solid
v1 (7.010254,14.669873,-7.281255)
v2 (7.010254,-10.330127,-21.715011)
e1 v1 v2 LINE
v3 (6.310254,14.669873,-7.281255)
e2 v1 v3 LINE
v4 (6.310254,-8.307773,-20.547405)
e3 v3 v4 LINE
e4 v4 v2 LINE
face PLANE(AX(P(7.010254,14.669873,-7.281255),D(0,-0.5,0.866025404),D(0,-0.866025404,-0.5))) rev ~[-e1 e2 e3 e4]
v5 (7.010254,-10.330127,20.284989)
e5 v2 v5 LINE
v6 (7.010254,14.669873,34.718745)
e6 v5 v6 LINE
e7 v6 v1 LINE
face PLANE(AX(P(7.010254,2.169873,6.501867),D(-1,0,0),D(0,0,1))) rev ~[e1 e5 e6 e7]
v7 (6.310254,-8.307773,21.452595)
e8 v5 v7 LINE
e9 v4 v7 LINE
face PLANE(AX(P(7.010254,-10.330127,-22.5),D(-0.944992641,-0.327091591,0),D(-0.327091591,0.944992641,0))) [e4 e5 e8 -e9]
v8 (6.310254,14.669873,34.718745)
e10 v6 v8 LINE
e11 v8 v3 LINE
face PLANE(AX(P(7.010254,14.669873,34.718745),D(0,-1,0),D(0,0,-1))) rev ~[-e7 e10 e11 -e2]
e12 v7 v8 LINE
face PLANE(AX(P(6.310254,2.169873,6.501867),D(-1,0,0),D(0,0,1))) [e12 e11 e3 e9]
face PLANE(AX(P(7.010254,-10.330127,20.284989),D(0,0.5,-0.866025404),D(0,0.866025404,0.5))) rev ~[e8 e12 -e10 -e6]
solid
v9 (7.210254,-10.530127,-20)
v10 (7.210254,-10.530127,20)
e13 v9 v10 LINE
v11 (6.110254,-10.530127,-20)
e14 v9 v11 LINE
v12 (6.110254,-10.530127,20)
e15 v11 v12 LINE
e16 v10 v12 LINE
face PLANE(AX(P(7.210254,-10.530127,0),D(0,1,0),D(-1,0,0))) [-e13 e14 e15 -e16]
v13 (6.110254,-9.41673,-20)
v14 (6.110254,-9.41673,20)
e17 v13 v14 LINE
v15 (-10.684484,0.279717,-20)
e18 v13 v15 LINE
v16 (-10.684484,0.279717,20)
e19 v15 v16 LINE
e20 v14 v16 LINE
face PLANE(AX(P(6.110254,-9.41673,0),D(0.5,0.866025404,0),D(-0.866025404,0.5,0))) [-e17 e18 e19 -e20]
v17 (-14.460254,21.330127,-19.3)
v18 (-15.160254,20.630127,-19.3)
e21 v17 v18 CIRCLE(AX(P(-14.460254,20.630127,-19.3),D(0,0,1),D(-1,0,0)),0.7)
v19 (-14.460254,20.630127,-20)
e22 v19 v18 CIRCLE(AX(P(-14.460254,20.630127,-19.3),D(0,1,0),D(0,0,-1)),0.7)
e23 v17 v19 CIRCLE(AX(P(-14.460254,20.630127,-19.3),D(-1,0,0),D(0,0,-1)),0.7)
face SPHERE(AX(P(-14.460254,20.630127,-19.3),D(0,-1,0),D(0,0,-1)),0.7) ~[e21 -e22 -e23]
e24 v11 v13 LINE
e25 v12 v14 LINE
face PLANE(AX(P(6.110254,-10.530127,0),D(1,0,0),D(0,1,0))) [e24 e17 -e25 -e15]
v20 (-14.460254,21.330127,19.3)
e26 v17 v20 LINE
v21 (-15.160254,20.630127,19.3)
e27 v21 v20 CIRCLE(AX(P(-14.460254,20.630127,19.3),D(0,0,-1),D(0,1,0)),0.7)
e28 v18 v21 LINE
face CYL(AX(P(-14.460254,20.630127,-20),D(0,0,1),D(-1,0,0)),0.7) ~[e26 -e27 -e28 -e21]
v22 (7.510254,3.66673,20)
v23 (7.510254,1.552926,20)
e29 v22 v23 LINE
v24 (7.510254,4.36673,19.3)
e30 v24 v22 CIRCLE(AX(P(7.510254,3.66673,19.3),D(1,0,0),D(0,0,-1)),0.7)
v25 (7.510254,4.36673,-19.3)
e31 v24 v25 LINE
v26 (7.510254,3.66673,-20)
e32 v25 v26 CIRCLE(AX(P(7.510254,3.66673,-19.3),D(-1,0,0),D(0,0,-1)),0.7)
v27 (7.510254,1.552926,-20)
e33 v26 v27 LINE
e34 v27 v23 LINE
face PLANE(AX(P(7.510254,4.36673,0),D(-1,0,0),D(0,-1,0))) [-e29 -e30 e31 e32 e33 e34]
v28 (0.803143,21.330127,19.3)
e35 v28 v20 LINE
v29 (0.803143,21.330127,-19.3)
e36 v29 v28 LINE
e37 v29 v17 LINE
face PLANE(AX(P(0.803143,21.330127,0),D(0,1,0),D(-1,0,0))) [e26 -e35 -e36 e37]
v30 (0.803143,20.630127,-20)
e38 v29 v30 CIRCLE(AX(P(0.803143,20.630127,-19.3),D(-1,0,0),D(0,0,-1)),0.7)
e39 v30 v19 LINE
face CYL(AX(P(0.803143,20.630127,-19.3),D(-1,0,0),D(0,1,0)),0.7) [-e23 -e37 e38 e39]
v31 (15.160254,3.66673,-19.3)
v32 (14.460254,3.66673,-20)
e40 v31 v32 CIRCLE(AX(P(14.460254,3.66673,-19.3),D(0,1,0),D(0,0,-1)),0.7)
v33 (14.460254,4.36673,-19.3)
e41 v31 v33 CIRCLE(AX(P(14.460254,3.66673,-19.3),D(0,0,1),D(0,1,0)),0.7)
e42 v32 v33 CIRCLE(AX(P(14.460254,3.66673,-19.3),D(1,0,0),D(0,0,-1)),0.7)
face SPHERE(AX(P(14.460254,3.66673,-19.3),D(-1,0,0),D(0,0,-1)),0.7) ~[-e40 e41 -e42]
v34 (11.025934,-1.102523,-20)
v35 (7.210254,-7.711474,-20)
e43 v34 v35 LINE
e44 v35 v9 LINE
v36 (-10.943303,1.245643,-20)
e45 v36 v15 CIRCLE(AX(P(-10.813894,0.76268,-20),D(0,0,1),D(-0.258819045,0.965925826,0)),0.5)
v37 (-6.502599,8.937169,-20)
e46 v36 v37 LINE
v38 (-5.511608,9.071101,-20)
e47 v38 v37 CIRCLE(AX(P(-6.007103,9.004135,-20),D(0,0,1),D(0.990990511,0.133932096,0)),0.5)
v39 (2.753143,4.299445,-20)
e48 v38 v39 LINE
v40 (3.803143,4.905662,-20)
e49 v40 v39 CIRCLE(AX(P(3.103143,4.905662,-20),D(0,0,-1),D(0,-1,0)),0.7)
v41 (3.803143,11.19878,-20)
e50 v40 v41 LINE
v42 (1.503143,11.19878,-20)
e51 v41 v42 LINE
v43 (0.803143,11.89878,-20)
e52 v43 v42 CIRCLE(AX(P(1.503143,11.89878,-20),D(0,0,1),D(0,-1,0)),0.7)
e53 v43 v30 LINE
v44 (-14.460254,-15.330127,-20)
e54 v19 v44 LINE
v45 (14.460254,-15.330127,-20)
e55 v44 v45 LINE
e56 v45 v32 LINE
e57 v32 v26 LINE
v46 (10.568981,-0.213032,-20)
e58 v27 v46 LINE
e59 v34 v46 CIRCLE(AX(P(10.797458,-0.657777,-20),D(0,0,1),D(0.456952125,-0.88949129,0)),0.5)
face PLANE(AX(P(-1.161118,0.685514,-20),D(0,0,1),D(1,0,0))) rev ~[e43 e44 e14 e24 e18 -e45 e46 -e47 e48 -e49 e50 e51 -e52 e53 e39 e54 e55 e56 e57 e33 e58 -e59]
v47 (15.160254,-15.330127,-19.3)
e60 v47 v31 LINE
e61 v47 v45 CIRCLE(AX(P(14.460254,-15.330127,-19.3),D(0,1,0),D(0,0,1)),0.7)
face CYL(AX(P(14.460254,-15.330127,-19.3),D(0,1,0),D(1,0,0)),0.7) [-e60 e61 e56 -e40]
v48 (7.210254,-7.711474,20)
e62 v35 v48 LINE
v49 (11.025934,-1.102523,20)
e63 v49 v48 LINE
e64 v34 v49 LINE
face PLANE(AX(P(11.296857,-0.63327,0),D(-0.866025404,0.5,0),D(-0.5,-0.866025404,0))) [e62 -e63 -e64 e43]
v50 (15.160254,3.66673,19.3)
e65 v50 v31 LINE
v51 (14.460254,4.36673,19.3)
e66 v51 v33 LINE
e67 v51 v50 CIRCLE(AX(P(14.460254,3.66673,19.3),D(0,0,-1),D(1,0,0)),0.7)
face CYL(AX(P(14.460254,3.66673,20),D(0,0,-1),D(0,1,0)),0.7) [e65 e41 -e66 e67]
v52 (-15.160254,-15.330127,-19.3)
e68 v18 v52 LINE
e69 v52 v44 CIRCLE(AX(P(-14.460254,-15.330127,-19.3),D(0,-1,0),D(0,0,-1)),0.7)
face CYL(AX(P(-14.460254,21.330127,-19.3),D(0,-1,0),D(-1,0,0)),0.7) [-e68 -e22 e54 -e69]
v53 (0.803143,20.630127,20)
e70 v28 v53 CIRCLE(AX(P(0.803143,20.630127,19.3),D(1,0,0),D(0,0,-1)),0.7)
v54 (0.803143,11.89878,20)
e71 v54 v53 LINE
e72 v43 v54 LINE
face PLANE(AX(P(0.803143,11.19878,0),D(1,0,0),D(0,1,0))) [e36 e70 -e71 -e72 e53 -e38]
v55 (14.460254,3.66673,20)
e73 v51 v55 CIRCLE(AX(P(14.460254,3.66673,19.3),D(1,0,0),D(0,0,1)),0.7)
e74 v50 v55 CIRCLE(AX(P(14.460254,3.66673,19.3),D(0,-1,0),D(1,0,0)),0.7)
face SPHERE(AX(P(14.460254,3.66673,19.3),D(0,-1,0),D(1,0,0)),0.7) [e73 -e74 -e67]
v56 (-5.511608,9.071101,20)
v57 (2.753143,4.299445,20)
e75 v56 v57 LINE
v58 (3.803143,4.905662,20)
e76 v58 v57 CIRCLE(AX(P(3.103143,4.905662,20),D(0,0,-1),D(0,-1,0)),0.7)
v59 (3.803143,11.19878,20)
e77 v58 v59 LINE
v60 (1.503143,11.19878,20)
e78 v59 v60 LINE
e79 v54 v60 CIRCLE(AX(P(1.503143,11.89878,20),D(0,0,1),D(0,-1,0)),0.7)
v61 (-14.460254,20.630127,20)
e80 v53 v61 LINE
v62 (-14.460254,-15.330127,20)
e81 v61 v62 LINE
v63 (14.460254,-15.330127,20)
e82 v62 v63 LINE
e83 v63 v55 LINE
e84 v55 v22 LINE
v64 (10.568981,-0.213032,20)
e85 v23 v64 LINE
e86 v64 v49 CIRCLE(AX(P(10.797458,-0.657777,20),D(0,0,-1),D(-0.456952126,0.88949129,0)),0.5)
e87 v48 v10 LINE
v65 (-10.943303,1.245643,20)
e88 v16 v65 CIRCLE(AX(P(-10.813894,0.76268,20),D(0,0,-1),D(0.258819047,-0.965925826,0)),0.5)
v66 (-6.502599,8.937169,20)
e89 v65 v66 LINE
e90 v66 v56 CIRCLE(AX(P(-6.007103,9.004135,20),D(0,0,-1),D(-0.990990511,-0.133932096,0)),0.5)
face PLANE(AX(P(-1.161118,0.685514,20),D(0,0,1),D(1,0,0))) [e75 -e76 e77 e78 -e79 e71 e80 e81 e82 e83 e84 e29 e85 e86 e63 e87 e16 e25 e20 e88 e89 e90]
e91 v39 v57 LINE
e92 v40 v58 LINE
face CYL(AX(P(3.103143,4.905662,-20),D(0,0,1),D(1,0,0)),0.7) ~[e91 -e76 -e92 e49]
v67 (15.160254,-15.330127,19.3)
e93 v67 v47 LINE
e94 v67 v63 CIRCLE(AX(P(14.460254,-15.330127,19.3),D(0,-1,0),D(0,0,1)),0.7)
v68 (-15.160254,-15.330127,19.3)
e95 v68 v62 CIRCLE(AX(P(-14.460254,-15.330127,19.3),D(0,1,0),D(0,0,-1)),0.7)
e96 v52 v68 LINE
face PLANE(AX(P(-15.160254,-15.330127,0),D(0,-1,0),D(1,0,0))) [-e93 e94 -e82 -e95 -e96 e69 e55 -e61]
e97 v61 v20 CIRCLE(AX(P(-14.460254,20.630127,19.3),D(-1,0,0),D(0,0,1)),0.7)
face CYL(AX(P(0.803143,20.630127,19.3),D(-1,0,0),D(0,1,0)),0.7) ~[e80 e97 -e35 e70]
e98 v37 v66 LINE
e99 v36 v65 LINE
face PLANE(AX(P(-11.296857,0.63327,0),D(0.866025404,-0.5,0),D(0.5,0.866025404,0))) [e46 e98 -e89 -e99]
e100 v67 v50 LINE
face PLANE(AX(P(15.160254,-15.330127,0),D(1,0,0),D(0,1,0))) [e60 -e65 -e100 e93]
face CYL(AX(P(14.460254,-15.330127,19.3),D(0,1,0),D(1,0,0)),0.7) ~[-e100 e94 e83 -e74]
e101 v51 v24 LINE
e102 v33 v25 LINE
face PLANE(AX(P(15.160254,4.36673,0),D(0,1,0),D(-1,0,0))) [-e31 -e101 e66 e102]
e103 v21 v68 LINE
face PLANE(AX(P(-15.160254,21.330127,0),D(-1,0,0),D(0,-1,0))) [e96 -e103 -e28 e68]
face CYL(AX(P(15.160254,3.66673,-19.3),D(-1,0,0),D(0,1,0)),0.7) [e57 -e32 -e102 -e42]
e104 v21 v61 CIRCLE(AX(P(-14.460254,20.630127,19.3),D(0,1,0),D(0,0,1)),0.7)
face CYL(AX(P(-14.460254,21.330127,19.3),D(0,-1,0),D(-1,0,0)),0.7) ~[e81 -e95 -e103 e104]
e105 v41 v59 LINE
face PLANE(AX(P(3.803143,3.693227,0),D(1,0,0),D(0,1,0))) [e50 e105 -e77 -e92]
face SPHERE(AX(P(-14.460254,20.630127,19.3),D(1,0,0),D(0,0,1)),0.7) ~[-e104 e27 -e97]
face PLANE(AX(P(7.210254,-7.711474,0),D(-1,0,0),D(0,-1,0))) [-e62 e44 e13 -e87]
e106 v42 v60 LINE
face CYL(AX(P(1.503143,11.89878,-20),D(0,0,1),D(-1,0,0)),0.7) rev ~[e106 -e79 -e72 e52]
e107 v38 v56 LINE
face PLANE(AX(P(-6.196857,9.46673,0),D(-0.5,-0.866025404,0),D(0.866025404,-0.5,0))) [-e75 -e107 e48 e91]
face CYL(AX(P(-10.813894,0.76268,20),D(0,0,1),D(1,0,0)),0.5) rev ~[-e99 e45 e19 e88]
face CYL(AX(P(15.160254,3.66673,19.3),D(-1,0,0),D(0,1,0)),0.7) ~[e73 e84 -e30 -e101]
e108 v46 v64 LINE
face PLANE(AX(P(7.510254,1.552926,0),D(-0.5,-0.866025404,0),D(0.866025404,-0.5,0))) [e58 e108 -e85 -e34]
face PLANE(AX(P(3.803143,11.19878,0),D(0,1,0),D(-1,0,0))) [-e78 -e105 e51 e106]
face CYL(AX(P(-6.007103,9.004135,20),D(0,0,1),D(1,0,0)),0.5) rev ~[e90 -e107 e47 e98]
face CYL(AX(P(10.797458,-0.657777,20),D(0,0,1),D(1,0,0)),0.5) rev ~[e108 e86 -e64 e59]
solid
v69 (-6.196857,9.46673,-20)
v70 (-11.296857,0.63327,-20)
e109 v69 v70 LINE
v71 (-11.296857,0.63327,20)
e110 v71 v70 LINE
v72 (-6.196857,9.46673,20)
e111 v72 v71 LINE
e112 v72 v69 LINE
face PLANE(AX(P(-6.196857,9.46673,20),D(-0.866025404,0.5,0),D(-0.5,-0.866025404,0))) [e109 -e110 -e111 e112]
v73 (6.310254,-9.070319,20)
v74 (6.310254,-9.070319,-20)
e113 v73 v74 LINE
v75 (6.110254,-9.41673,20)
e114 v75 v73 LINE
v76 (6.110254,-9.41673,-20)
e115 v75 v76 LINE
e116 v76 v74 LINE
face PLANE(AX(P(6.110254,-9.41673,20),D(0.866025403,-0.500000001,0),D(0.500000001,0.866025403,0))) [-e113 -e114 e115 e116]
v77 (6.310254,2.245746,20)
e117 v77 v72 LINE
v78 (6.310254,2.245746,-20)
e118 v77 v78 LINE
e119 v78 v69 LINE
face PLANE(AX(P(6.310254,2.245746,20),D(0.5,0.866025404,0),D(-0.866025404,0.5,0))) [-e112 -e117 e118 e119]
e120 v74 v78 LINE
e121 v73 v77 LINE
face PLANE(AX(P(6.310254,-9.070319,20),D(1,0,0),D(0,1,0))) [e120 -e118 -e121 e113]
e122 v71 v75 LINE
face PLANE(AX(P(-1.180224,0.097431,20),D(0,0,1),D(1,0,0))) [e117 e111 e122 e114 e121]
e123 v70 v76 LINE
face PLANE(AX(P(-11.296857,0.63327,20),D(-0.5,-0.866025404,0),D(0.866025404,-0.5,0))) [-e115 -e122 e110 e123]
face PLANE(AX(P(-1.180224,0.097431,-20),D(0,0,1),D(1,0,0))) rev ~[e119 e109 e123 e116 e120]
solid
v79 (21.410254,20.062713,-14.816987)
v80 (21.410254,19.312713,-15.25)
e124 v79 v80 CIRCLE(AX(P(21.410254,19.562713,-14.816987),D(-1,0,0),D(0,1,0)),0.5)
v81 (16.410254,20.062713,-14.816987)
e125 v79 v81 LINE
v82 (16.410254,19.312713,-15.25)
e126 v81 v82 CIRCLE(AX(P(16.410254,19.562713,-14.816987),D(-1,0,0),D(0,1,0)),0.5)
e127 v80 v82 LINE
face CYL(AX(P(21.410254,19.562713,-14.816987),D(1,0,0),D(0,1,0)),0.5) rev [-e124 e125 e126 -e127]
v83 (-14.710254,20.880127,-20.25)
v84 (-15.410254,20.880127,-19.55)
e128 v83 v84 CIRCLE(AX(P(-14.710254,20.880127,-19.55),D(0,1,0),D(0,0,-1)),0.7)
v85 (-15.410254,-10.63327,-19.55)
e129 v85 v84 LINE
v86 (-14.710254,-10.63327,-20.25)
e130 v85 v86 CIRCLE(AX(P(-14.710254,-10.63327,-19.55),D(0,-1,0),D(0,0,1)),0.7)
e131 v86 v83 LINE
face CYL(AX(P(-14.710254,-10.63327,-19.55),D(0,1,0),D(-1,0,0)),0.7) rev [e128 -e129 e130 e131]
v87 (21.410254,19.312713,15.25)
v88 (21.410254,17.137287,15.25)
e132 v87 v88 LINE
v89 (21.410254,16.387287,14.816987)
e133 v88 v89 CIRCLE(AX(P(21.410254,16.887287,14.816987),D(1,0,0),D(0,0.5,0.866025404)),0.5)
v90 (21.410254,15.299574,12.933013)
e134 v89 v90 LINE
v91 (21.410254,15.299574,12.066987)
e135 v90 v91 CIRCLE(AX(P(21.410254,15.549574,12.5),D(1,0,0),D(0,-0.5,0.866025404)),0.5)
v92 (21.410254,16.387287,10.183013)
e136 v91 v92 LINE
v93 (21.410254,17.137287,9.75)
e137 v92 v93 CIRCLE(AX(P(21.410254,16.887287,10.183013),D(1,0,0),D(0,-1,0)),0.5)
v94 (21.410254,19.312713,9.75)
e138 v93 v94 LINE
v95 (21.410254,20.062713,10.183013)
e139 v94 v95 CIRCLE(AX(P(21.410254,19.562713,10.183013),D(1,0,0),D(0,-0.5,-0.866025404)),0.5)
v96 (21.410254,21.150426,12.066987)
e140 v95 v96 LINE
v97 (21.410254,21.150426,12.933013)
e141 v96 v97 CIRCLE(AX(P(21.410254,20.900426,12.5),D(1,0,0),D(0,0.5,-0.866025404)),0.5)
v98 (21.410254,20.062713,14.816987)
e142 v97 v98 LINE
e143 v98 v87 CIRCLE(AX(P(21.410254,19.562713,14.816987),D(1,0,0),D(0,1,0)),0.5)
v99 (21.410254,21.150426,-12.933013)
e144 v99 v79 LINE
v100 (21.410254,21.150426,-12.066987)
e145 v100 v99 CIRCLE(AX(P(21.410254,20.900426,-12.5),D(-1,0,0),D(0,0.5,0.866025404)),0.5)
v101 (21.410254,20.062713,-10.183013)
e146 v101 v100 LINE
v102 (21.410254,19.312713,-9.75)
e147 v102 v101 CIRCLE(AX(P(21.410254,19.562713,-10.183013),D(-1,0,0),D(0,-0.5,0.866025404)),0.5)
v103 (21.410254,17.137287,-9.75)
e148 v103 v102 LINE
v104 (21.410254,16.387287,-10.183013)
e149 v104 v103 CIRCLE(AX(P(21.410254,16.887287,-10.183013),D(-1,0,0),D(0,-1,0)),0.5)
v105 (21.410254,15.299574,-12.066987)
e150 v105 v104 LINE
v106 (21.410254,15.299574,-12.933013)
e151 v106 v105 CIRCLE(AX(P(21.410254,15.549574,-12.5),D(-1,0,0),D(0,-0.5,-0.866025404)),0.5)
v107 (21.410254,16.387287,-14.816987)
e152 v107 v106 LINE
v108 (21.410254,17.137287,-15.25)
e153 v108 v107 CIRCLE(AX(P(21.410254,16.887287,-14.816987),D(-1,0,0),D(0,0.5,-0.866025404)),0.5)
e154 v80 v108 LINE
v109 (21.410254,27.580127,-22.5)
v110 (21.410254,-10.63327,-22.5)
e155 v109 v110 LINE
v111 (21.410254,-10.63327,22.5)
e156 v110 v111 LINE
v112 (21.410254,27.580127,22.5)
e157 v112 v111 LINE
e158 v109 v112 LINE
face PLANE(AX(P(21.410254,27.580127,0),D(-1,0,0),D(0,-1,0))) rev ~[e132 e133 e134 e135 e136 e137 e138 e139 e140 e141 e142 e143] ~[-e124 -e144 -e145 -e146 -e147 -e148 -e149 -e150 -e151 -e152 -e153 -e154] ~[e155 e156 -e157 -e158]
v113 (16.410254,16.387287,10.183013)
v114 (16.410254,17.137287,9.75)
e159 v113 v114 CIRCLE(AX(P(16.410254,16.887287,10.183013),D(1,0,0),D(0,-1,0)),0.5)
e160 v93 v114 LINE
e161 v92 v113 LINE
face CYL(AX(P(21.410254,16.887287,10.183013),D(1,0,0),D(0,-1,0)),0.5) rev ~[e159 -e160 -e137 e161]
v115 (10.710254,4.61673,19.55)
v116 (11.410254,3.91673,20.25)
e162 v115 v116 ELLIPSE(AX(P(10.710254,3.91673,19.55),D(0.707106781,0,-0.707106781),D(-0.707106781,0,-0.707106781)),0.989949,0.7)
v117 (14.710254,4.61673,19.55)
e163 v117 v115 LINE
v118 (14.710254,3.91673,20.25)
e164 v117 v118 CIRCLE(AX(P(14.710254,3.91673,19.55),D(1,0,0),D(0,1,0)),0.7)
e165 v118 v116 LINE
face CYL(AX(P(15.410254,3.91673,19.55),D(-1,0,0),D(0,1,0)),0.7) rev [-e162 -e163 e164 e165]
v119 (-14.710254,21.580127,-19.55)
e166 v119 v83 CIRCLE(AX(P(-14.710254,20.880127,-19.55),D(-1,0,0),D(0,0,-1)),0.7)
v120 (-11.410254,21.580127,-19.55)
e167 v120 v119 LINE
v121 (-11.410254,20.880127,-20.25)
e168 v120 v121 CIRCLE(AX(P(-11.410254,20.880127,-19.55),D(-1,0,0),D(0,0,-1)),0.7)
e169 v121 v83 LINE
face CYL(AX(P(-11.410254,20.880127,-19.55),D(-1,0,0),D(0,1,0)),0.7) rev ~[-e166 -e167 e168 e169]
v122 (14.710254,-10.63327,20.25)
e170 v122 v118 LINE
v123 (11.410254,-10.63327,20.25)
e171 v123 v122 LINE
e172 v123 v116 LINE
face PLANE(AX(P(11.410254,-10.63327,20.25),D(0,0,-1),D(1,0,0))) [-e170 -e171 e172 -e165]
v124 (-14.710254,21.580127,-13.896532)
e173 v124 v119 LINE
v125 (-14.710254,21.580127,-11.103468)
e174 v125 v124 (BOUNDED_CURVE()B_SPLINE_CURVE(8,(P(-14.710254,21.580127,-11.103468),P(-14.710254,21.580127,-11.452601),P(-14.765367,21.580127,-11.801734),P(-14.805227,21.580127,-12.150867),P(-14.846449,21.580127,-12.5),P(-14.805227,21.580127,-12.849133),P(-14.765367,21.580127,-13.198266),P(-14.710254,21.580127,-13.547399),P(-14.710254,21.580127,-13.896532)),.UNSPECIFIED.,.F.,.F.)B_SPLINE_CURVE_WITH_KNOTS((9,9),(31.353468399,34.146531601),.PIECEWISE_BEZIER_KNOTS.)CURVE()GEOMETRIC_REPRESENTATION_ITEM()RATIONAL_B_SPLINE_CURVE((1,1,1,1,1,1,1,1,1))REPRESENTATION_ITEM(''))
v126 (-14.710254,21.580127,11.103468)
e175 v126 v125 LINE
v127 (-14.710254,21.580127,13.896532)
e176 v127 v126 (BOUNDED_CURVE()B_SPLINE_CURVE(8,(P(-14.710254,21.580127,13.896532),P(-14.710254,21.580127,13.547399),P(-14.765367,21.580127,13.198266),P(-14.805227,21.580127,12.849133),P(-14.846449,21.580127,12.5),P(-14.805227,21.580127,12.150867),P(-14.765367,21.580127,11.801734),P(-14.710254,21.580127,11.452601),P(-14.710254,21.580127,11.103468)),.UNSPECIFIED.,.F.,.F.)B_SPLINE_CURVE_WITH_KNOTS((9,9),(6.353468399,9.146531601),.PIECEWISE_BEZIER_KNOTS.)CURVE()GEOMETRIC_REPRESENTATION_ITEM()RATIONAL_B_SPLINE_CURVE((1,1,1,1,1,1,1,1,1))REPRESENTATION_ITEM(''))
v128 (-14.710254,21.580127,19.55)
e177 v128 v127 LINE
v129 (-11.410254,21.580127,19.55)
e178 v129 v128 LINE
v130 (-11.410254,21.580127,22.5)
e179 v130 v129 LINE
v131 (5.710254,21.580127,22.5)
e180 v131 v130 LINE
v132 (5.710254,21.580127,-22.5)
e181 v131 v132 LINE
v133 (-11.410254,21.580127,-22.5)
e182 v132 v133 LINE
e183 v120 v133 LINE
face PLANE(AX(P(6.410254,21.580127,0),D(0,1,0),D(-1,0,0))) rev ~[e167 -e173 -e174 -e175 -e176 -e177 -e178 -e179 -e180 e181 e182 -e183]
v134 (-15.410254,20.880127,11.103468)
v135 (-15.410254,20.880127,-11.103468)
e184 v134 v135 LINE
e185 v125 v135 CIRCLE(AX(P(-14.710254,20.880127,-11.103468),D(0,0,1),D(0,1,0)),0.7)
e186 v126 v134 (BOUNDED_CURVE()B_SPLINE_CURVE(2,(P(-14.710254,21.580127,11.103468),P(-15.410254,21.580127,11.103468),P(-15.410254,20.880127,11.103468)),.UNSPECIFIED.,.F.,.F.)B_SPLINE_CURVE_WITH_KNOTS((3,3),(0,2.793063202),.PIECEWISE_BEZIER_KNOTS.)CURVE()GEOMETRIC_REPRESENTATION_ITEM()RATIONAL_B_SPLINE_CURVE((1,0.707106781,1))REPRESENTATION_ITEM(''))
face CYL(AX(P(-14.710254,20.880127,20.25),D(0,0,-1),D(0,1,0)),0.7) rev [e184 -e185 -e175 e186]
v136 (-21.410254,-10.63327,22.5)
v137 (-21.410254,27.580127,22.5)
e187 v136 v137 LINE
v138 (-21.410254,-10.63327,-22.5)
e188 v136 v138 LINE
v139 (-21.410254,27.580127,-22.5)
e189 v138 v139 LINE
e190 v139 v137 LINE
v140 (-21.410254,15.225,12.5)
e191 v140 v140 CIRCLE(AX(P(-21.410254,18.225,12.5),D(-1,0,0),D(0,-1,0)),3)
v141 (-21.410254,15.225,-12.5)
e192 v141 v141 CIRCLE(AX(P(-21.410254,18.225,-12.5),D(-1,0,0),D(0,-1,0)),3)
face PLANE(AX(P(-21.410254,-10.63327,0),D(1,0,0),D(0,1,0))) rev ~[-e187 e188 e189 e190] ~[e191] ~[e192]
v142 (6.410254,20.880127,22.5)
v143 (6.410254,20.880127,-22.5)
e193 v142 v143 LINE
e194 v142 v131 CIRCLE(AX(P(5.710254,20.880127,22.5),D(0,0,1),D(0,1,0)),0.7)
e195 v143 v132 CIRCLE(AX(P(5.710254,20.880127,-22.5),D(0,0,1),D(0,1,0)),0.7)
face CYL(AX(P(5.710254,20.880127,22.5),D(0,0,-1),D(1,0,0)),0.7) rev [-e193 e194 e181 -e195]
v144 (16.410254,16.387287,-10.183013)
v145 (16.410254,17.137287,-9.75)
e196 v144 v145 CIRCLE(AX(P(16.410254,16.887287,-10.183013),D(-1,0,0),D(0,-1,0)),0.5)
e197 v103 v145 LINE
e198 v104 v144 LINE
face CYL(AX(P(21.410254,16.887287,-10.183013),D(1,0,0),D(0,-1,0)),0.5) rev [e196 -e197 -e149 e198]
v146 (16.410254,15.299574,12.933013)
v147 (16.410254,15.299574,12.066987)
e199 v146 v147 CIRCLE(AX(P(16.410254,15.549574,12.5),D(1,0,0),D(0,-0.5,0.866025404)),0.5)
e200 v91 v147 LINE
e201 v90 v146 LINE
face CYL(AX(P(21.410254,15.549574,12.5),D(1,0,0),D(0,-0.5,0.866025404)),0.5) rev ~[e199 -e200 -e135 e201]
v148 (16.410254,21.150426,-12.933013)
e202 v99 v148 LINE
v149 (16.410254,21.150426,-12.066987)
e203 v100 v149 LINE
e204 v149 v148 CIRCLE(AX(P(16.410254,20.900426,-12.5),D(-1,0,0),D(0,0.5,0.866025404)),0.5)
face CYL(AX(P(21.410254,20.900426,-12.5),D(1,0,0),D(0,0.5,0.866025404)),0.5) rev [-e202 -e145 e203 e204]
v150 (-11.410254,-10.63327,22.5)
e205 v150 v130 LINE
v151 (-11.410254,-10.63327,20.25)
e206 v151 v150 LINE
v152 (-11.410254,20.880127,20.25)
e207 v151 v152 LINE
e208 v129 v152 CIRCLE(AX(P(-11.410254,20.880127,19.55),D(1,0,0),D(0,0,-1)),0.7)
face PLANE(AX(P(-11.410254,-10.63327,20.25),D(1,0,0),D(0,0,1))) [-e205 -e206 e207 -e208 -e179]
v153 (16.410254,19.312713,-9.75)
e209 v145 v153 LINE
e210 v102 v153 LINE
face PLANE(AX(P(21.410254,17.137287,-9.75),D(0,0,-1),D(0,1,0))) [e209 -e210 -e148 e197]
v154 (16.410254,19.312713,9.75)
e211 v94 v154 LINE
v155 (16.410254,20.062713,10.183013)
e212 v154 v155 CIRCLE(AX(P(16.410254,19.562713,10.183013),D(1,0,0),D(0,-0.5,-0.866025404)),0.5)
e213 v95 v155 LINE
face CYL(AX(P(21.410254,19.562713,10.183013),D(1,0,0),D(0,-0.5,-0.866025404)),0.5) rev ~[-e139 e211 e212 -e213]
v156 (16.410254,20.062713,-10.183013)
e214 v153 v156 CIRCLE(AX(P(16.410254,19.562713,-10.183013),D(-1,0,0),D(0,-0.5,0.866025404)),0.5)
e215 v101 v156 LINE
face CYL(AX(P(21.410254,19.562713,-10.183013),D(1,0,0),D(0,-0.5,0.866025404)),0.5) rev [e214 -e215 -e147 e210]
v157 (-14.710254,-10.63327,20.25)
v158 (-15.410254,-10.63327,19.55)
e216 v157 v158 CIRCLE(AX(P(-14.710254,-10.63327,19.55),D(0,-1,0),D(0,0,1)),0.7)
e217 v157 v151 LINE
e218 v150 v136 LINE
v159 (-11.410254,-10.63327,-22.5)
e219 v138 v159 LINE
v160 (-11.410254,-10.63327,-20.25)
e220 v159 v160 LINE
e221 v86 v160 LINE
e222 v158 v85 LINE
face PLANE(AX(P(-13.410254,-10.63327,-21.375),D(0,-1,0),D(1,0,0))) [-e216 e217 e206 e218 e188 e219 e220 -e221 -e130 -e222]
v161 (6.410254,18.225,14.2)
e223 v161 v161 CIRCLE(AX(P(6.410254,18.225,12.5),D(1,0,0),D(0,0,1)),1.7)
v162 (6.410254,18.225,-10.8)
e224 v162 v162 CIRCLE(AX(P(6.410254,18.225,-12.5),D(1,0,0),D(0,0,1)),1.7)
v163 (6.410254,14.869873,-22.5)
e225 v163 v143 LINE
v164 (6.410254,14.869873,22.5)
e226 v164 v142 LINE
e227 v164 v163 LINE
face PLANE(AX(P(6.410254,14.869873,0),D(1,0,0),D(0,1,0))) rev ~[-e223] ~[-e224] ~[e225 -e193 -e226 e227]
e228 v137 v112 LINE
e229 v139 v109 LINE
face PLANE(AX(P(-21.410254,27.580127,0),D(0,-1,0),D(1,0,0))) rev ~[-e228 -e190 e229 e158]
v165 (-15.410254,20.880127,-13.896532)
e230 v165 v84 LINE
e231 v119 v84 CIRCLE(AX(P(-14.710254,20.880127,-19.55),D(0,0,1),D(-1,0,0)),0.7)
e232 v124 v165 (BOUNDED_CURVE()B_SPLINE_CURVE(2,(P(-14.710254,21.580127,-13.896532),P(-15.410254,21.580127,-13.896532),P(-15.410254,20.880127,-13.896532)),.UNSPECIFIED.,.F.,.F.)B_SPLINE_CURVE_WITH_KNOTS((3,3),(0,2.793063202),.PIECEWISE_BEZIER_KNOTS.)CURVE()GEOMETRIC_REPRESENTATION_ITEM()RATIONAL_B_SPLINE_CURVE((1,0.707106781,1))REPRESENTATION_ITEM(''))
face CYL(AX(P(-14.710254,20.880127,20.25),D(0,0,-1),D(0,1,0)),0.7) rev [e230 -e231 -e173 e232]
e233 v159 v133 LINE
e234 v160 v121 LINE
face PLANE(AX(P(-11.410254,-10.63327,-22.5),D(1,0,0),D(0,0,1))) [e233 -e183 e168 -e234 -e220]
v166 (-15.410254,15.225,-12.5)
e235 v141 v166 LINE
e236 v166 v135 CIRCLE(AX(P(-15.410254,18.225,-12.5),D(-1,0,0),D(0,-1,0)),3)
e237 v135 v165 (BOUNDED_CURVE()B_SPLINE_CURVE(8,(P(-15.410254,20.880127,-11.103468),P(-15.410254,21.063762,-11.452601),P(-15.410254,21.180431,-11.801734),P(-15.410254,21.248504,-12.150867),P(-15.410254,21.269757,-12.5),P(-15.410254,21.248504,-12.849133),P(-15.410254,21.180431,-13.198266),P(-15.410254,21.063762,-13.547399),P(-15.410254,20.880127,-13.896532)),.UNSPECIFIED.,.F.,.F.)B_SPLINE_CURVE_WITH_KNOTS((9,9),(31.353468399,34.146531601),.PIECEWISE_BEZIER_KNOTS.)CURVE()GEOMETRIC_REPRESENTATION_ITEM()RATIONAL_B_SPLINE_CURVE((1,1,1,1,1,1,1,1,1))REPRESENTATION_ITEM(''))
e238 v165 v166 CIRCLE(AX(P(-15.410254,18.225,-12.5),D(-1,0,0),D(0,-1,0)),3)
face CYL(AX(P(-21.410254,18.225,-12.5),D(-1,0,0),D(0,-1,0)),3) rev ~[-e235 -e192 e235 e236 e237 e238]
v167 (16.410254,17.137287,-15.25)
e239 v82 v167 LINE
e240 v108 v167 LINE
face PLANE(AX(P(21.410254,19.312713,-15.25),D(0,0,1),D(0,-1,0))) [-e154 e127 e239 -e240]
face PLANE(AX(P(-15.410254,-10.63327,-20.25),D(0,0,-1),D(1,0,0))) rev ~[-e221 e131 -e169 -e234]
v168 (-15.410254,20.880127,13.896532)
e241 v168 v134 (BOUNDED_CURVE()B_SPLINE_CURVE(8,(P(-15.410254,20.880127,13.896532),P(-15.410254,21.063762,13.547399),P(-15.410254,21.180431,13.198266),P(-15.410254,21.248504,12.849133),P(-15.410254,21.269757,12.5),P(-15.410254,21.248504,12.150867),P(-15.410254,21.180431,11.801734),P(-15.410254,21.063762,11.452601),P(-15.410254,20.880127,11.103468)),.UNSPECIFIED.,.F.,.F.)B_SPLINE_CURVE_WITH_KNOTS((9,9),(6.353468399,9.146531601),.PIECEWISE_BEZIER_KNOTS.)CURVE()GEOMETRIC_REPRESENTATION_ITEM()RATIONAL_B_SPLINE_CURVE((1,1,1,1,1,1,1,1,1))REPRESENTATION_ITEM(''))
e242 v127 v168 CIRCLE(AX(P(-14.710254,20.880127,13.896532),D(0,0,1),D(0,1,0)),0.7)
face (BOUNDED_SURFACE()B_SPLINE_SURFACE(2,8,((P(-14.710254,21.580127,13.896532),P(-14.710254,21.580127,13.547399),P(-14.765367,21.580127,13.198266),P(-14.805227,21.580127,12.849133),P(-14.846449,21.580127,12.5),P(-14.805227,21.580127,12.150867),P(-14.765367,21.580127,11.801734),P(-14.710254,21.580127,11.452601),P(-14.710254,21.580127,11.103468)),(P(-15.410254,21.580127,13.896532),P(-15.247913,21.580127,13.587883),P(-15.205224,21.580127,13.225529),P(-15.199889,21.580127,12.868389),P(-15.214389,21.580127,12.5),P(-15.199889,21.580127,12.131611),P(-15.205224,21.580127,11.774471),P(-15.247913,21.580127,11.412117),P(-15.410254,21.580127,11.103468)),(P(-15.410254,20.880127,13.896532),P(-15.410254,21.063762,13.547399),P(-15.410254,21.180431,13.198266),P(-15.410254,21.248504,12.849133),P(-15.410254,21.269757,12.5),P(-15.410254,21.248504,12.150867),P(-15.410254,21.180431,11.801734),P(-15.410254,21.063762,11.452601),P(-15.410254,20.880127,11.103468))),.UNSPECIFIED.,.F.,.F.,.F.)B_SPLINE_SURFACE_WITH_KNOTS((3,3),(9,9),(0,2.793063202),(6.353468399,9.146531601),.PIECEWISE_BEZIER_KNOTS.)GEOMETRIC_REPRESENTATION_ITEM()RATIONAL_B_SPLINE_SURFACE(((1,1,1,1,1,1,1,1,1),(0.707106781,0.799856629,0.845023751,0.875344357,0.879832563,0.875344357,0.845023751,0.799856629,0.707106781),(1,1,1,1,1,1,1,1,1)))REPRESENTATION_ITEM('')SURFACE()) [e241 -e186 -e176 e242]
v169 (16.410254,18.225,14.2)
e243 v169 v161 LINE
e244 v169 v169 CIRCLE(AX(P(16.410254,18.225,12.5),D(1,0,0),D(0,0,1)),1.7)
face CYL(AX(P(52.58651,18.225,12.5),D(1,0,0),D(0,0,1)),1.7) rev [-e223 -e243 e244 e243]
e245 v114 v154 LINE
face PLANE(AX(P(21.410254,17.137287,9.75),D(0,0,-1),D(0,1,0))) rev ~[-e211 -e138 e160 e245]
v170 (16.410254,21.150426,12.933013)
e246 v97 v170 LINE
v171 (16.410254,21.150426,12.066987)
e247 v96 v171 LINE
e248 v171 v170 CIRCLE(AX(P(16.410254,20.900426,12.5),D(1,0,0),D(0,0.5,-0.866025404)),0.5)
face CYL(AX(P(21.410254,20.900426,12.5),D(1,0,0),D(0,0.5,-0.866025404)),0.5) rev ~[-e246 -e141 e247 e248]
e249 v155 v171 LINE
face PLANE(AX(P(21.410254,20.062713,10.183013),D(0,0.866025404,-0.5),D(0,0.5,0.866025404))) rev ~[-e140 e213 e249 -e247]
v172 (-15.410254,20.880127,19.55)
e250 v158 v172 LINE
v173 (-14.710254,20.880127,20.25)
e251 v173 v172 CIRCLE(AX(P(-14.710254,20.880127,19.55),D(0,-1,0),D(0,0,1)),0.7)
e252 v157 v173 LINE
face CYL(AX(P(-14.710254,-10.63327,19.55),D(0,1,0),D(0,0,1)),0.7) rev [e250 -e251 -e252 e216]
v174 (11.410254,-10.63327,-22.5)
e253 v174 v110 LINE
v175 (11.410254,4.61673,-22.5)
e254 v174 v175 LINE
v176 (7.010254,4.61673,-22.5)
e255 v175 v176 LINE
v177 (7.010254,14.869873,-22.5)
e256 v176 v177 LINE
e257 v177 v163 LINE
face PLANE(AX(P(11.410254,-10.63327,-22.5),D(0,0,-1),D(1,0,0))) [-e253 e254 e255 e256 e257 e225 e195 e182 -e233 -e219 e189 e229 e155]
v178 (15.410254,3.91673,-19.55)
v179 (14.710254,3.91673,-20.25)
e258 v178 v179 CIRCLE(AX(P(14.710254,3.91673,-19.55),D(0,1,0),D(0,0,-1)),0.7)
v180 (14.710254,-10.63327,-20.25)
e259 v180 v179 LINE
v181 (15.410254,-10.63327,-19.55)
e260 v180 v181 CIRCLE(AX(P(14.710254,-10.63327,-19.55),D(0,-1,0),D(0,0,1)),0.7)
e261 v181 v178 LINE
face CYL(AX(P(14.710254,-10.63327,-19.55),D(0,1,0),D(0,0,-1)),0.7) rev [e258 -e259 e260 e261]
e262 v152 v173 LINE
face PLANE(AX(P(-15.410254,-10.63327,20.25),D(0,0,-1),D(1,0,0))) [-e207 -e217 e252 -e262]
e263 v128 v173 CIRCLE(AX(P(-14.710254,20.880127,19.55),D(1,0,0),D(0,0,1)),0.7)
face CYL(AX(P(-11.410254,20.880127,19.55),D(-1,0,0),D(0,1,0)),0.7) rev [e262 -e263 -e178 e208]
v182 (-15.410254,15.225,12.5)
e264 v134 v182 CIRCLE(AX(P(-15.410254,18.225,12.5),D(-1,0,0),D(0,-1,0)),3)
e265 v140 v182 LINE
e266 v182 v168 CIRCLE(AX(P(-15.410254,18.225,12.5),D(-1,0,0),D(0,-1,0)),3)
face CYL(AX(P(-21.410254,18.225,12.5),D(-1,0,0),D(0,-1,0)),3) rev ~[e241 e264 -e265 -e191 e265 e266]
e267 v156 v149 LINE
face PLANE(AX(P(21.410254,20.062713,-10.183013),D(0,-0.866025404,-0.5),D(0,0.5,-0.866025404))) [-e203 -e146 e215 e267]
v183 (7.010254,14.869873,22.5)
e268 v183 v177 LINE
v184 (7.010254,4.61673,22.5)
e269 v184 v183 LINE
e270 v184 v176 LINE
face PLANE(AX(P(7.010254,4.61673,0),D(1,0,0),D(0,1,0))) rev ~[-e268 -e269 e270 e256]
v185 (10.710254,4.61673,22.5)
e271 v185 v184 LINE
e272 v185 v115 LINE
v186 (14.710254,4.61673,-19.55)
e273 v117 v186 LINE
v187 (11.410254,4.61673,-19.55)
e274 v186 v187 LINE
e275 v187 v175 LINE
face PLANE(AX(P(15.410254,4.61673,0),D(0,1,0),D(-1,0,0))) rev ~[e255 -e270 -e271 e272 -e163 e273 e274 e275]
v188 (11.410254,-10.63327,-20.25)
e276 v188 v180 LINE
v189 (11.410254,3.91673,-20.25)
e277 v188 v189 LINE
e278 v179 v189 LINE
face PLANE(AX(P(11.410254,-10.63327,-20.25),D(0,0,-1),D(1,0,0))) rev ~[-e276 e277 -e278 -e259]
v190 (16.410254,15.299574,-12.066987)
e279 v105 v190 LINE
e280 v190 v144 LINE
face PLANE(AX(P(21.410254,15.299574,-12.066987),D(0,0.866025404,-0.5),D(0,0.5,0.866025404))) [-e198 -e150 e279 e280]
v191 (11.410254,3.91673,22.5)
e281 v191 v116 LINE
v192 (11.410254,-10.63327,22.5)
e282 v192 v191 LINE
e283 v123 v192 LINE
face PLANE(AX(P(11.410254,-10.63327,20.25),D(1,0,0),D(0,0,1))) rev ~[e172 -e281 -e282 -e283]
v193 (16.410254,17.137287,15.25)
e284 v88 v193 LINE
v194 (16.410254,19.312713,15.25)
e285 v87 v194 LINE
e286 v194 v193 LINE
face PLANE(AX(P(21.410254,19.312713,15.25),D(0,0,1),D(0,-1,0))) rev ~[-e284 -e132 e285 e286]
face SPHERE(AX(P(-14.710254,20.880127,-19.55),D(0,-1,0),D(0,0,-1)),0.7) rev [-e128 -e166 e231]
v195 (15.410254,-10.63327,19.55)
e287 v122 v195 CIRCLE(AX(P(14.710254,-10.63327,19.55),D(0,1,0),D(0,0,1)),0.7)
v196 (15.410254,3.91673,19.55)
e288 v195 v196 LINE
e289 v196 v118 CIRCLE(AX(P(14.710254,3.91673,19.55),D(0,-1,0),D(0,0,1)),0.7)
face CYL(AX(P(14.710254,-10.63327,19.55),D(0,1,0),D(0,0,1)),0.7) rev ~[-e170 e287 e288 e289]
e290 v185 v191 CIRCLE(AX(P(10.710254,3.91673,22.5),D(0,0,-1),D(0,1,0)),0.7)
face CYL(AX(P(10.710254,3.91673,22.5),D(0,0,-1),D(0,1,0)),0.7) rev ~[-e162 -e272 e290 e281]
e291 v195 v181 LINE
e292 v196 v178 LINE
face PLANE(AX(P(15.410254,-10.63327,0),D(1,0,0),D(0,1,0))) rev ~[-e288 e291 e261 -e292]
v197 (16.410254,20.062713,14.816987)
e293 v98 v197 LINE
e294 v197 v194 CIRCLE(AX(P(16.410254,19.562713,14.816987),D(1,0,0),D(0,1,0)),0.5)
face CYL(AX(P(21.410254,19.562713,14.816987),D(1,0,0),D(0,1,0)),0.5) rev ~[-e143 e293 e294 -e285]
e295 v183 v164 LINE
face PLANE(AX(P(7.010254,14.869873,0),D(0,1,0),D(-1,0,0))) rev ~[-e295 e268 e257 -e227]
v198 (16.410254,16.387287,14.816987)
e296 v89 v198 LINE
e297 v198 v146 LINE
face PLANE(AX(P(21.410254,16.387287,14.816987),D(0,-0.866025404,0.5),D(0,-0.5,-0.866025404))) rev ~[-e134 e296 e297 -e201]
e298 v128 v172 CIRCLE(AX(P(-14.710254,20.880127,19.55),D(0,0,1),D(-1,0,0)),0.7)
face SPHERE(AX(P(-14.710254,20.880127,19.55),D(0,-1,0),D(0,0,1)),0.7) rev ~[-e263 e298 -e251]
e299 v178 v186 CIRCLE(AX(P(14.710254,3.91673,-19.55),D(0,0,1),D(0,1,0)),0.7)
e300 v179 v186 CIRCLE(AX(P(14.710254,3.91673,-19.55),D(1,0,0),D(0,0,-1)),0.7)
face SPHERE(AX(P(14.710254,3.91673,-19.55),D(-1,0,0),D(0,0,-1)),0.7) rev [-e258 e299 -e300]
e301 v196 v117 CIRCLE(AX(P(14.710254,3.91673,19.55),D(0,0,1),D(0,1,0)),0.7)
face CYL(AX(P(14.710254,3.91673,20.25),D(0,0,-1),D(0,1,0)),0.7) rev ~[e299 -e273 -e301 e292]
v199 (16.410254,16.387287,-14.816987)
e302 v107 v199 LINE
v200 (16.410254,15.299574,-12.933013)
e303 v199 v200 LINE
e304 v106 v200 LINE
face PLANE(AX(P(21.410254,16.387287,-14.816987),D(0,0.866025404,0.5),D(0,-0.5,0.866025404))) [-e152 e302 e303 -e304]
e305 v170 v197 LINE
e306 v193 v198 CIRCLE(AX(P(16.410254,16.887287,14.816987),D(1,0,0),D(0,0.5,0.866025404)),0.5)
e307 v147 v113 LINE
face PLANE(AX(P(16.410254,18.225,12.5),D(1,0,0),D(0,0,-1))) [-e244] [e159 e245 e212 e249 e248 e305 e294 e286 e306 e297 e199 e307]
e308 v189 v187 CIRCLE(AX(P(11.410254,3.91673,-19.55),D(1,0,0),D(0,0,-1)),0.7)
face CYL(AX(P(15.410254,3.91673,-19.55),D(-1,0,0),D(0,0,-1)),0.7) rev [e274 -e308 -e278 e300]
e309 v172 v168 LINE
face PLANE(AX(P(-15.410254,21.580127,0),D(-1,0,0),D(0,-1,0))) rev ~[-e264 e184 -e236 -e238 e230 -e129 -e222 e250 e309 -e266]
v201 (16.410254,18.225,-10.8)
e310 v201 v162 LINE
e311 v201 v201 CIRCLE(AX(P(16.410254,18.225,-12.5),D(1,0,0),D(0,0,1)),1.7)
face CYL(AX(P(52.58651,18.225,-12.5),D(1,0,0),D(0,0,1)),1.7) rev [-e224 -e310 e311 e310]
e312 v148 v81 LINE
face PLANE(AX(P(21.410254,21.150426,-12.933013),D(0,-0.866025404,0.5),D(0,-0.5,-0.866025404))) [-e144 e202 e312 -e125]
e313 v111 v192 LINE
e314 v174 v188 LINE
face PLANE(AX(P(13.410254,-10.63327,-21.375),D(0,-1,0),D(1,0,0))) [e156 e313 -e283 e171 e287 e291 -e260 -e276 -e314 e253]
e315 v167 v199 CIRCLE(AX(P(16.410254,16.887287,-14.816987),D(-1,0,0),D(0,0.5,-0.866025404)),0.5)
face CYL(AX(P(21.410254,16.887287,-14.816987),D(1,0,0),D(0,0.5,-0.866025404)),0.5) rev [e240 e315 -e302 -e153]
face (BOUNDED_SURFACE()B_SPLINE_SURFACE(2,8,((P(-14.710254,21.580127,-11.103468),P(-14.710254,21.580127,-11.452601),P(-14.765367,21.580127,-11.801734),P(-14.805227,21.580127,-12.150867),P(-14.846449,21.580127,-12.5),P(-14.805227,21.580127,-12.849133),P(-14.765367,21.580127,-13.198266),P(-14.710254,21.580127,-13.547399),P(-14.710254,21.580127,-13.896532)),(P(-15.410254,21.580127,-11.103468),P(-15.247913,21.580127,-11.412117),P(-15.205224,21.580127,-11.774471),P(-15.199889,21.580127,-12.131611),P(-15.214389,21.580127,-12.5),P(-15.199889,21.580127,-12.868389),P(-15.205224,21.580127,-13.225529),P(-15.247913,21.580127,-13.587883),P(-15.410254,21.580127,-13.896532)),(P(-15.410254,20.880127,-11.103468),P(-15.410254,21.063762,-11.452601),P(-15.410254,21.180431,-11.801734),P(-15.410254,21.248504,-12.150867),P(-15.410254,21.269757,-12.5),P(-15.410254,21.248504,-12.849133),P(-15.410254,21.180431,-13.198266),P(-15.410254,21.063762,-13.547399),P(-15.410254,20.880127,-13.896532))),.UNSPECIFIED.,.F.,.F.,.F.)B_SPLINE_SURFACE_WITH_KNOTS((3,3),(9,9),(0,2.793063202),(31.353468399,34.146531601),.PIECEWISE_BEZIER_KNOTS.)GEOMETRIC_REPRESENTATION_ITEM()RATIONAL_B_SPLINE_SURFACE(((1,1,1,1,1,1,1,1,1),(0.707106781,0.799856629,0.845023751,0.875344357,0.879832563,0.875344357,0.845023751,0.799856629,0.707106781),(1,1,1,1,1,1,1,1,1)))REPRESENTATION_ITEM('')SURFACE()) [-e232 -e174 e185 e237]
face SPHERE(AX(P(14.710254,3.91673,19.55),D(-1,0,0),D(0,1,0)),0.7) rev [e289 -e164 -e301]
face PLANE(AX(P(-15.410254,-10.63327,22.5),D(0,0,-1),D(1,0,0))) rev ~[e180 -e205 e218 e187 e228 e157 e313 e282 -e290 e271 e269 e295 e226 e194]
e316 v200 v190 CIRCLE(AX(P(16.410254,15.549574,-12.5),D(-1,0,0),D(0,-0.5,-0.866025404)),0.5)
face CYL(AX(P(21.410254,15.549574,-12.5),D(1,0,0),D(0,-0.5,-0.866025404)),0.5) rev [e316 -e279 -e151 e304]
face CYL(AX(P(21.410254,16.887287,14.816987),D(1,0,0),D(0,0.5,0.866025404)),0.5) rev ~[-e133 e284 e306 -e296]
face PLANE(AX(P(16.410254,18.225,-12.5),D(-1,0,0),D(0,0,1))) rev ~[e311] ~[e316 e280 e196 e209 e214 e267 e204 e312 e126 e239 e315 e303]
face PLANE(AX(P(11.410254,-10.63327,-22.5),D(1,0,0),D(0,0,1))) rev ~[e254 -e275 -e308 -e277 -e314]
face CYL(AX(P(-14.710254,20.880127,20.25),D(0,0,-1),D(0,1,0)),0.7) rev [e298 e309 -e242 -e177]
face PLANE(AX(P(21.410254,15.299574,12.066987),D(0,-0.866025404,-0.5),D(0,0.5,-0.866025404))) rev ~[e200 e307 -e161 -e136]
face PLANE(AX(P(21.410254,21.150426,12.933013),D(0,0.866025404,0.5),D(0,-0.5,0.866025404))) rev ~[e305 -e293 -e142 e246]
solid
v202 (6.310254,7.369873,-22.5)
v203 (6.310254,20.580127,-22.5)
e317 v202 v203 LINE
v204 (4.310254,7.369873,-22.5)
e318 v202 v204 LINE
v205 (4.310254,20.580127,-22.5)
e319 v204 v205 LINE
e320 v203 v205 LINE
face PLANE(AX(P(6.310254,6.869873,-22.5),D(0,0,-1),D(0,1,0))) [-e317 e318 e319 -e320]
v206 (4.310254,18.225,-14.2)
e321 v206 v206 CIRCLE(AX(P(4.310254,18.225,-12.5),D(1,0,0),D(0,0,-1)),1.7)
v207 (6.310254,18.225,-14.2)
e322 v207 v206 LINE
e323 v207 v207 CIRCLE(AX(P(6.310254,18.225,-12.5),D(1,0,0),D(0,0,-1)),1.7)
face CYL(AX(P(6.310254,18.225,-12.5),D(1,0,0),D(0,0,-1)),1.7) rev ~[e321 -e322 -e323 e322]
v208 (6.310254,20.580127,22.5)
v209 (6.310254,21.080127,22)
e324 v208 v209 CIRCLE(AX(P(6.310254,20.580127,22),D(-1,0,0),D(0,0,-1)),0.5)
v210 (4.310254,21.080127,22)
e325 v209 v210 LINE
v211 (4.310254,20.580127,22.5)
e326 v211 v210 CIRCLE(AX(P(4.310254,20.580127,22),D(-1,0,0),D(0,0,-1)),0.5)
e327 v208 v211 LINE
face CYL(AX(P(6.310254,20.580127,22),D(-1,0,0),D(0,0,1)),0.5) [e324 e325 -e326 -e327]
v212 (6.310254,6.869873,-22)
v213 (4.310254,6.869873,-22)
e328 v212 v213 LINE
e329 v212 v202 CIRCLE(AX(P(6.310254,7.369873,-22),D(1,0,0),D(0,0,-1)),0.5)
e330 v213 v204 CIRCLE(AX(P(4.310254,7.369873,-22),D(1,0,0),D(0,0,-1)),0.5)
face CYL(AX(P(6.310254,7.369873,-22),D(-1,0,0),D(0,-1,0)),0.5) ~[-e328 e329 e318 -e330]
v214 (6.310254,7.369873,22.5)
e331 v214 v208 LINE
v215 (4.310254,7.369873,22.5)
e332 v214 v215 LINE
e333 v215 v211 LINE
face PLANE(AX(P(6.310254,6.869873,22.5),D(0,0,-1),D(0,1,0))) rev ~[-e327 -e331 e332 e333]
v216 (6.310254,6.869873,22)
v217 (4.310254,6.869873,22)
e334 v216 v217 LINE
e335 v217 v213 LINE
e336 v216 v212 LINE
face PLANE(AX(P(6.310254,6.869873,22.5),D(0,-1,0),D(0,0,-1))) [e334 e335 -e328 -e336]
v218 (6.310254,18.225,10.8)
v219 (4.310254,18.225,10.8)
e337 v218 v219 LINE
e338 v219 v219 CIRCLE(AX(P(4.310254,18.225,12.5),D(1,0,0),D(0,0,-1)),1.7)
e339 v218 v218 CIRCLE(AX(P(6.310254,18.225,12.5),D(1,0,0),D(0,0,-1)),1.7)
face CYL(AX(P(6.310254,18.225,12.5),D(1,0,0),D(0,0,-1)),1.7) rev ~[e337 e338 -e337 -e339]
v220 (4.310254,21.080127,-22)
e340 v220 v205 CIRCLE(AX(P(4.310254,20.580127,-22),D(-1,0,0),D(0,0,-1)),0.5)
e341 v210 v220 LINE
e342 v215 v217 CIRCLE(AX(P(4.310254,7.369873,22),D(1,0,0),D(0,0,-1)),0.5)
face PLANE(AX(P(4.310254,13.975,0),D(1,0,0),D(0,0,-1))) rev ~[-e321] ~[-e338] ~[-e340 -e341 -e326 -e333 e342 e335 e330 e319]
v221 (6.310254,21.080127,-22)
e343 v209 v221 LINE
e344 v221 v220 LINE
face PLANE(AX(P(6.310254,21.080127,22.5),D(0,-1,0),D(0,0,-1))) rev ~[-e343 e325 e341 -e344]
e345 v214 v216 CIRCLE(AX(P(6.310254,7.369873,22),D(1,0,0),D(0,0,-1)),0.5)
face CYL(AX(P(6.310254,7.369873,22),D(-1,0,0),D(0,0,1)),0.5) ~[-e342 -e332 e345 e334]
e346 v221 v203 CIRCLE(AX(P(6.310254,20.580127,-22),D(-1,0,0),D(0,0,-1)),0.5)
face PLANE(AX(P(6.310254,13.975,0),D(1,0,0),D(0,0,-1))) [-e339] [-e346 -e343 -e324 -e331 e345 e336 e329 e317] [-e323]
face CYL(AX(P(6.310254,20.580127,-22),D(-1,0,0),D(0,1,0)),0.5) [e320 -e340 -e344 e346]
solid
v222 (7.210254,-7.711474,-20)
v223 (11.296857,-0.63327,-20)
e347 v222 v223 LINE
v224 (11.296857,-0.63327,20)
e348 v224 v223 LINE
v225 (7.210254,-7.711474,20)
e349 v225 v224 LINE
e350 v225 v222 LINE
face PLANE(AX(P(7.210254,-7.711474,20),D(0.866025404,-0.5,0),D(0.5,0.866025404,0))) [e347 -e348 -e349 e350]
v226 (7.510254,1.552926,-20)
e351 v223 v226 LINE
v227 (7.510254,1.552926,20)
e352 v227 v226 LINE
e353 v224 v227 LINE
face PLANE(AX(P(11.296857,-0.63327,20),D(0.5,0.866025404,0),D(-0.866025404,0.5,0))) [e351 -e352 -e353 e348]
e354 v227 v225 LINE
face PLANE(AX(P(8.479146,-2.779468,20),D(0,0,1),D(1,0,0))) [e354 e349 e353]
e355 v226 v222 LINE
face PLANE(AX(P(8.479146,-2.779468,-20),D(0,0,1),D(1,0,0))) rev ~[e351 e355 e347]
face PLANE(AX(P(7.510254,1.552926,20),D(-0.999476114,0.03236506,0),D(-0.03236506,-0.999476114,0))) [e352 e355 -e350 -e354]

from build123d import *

# Parameters (mm, degrees)
EXTRUDE_1_DEPTH          = 20
EXTRUDE_2_DEPTH          = 22.5
CUT_EXTRUDE_1_DEPTH      = 46.176255666
CUT_EXTRUDE_1_DEPTH_BACK = 46.176255666
SKETCH_4_R               = 1.7
SKETCH_5_R               = 3
CUT_EXTRUDE_2_DEPTH      = 6
SKETCH_7_W               = 45
SKETCH_7_H               = 14.210254038
SKETCH_7_R               = 1.7
EXTRUDE_3_DEPTH          = 2
EXTRUDE_4_REACH          = 51.243
SKETCH_8_W               = 4
SKETCH_8_H               = 2.25
CUT_EXTRUDE_3_DEPTH      = 5
SKETCH_10_R              = 0.5
CUT_EXTRUDE_4_DEPTH      = 56.002839784
FILLET_1_R               = 0.7
FILLET_2_R               = 0.7
FILLET_3_R               = 0.5
EXTRUDE_5_DEPTH          = 0.7
CUT_EXTRUDE_5_DEPTH      = 68.030196212
EXTRUDE_6_DEPTH          = 40
EXTRUDE_6_2_DEPTH        = 40


with BuildPart() as part:
    # Sketch 2 → Extrude 1 (new, symmetric)
    with BuildSketch(Plane.XY):
        Polygon((7.510254038, 4.366729559), (7.510254038, 1.552925555), (11.296856578, -0.633270441), (7.210254038, -7.711473671), (7.210254038, -10.530127019), (6.110254038, -10.530127019), (6.110254038, -9.416729559), (-11.296856578, 0.633270441), (-6.196856578, 9.466729559), (3.803143422, 3.693226867), (3.803143422, 11.198780367), (0.803143422, 11.198780367), (0.803143422, 21.330127019), (-15.160254038, 21.330127019), (-15.160254038, -15.330127019), (15.160254038, -15.330127019), (15.160254038, 4.366729559), align=None)
    extrude(amount=EXTRUDE_1_DEPTH, both=True)

    # Sketch 10 → Cut-Extrude 4 (cut, through all)
    with BuildSketch(Plane.XY.offset(20)):
        with Locations((10.79745752, -0.657777189)):
            Circle(SKETCH_10_R)
        with Locations((-6.007103249, 9.004135056)):
            Circle(SKETCH_10_R)
        with Locations((-10.813893665, 0.762679963)):
            Circle(SKETCH_10_R)
    extrude(amount=-CUT_EXTRUDE_4_DEPTH, mode=Mode.SUBTRACT)

    # Fillet 1
    fillet_1_edges = [part.edges().sort_by_distance(p)[0] for p in [
        (-7.178555308, 21.330127019, 20),
        (11.335254038, 4.366729559, -20),
        (15.160254038, -5.48169873, -20),
        (-15.160254038, 3, 20),
        (-15.160254038, 3, -20),
        (-7.178555308, 21.330127019, -20),
        (15.160254038, -5.48169873, 20),
        (15.160254038, 4.366729559, 0),
        (11.335254038, 4.366729559, 20),
        (-15.160254038, 21.330127019, 0),
        (0.803143422, 11.198780367, 0),
        (3.803143422, 3.693226867, 0),
    ]]
    fillet(fillet_1_edges, radius=FILLET_1_R)


with BuildPart() as body_2:
    # Sketch 3 → Extrude 2 (new, symmetric)
    with BuildSketch(Plane.XY):
        Polygon((21.410254038, -10.633270441), (15.410254038, -10.633270441), (15.410254038, 4.616729559), (7.010254038, 4.616729559), (7.010254038, 14.869872981), (6.410254038, 14.869872981), (6.410254038, 21.580127019), (-15.410254038, 21.580127019), (-15.410254038, -10.633270441), (-21.410254038, -10.633270441), (-21.410254038, 27.580127019), (21.410254038, 27.580127019), align=None)
    extrude(amount=EXTRUDE_2_DEPTH, both=True)

    # Sketch 4 → Cut-Extrude 1 (cut, two sides: drawn at the far end of the back side and taken through both)
    with BuildSketch(Plane.ZY.offset(-6.410254038).offset(-CUT_EXTRUDE_1_DEPTH_BACK)):
        with Locations((-12.5, 18.225)):
            Circle(SKETCH_4_R)
        with Locations((12.5, 18.225)):
            Circle(SKETCH_4_R)
    extrude(amount=CUT_EXTRUDE_1_DEPTH + CUT_EXTRUDE_1_DEPTH_BACK, mode=Mode.SUBTRACT)

    # Sketch 5 → Cut-Extrude 2 (cut)
    with BuildSketch(Plane.ZY.offset(21.410254038)):
        with Locations(Location((-12.5, 18.225, 0), (0, 0, 270))):
            Circle(SKETCH_5_R)
        with Locations(Location((12.5, 18.225, 0), (0, 0, 270))):
            Circle(SKETCH_5_R)
    extrude(amount=-CUT_EXTRUDE_2_DEPTH, mode=Mode.SUBTRACT)

    # Extrude 4: up to this face of the body (flat: up to its plane)
    extrude_4_end = Plane(body_2.part.faces().sort_by_distance((-4.5, 21.580127019, 0))[0])
    # Sketch 8 → Extrude 4 (add, up to the picked face)
    with BuildSketch(Plane.XZ.offset(10.633270441), mode=Mode.PRIVATE) as extrude_4_sk1:
        with Locations((13.410254038, 21.375)):
            Rectangle(SKETCH_8_W, SKETCH_8_H)
    extrude_4_tool1 = split(extrude(extrude_4_sk1.sketch, amount=-EXTRUDE_4_REACH, mode=Mode.PRIVATE), bisect_by=extrude_4_end, keep=Keep.BOTH, mode=Mode.PRIVATE)
    # Sketch 8 → Extrude 4 (add, up to the picked face)
    with BuildSketch(Plane.XZ.offset(10.633270441), mode=Mode.PRIVATE) as extrude_4_sk2:
        with Locations((-13.410254038, 21.375)):
            Rectangle(SKETCH_8_W, SKETCH_8_H)
    extrude_4_tool2 = split(extrude(extrude_4_sk2.sketch, amount=-EXTRUDE_4_REACH, mode=Mode.PRIVATE), bisect_by=extrude_4_end, keep=Keep.BOTH, mode=Mode.PRIVATE)
    # Sketch 8 → Extrude 4 (add, up to the picked face)
    with BuildSketch(Plane.XZ.offset(10.633270441), mode=Mode.PRIVATE) as extrude_4_sk3:
        with Locations((-13.410254038, -21.375)):
            Rectangle(SKETCH_8_W, SKETCH_8_H)
    extrude_4_tool3 = split(extrude(extrude_4_sk3.sketch, amount=-EXTRUDE_4_REACH, mode=Mode.PRIVATE), bisect_by=extrude_4_end, keep=Keep.BOTH, mode=Mode.PRIVATE)
    # Sketch 8 → Extrude 4 (add, up to the picked face)
    with BuildSketch(Plane.XZ.offset(10.633270441), mode=Mode.PRIVATE) as extrude_4_sk4:
        with Locations((13.410254038, -21.375)):
            Rectangle(SKETCH_8_W, SKETCH_8_H)
    extrude_4_tool4 = split(extrude(extrude_4_sk4.sketch, amount=-EXTRUDE_4_REACH, mode=Mode.PRIVATE), bisect_by=extrude_4_end, keep=Keep.BOTH, mode=Mode.PRIVATE)
    add(extrude_4_tool1.solids().sort_by(Axis((13.410254, -10.63327, 21.375), (0, 1, 0)))[0])
    add(extrude_4_tool2.solids().sort_by(Axis((-13.410254, -10.63327, 21.375), (0, 1, 0)))[0])
    add(extrude_4_tool3.solids().sort_by(Axis((-13.410254, -10.63327, -21.375), (0, 1, 0)))[0])
    add(extrude_4_tool4.solids().sort_by(Axis((13.410254, -10.63327, -21.375), (0, 1, 0)))[0])

    # Sketch 9 → Cut-Extrude 3 (cut)
    with BuildSketch(Plane(origin=(21.410254038, 0, 0), x_dir=(0, 0, -1), z_dir=(1, 0, 0))):
        with BuildLine():
            Line((-12.933012702, 21.150426481), (-14.816987298, 20.06271324))
            ThreePointArc((-14.816987298, 20.06271324), (-15.25, 19.81271324), (-15.25, 19.31271324))
            Line((-15.25, 19.31271324), (-15.25, 17.13728676))
            ThreePointArc((-15.25, 17.13728676), (-15.25, 16.63728676), (-14.816987298, 16.38728676))
            Line((-14.816987298, 16.38728676), (-12.933012702, 15.299573519))
            ThreePointArc((-12.933012702, 15.299573519), (-12.5, 15.049573519), (-12.066987298, 15.299573519))
            Line((-12.066987298, 15.299573519), (-10.183012702, 16.38728676))
            ThreePointArc((-10.183012702, 16.38728676), (-9.75, 16.63728676), (-9.75, 17.13728676))
            Line((-9.75, 17.13728676), (-9.75, 19.31271324))
            ThreePointArc((-9.75, 19.31271324), (-9.75, 19.81271324), (-10.183012702, 20.06271324))
            Line((-10.183012702, 20.06271324), (-12.066987298, 21.150426481))
            ThreePointArc((-12.066987298, 21.150426481), (-12.5, 21.400426481), (-12.933012702, 21.150426481))
        make_face()
        with BuildLine():
            Line((10.183012702, 20.06271324), (12.066987298, 21.150426481))
            ThreePointArc((12.066987298, 21.150426481), (12.5, 21.400426481), (12.933012702, 21.150426481))
            Line((12.933012702, 21.150426481), (14.816987298, 20.06271324))
            ThreePointArc((14.816987298, 20.06271324), (15.25, 19.81271324), (15.25, 19.31271324))
            Line((15.25, 19.31271324), (15.25, 17.13728676))
            ThreePointArc((15.25, 17.13728676), (15.25, 16.63728676), (14.816987298, 16.38728676))
            Line((14.816987298, 16.38728676), (12.933012702, 15.299573519))
            ThreePointArc((12.933012702, 15.299573519), (12.5, 15.049573519), (12.066987298, 15.299573519))
            Line((12.066987298, 15.299573519), (10.183012702, 16.38728676))
            ThreePointArc((10.183012702, 16.38728676), (9.75, 16.63728676), (9.75, 17.13728676))
            Line((9.75, 17.13728676), (9.75, 19.31271324))
            ThreePointArc((9.75, 19.31271324), (9.75, 19.81271324), (10.183012702, 20.06271324))
        make_face()
    extrude(amount=-CUT_EXTRUDE_3_DEPTH, mode=Mode.SUBTRACT)

    # Fillet 2
    fillet_2_edges = [body_2.edges().sort_by_distance(p)[0] for p in [
        (6.410254038, 21.580127019, 0),
        (-15.410254038, 5.473428289, 20.25),
        (-13.410254038, 21.580127019, 20.25),
        (-15.410254038, 5.473428289, -20.25),
        (-13.410254038, 21.580127019, -20.25),
        (-15.410254038, 21.580127019, 0),
        (13.410254038, 4.616729559, -20.25),
        (15.410254038, -3.008270441, -20.25),
        (11.410254038, 4.616729559, 21.375),
        (13.410254038, 4.616729559, 20.25),
        (15.410254038, 4.616729559, 0),
        (15.410254038, -3.008270441, 20.25),
    ]]
    fillet(fillet_2_edges, radius=FILLET_2_R)


with BuildPart() as body_3:
    # Sketch 7 → Extrude 3 (new body)
    with BuildSketch(Plane(origin=(6.310254038, 0, 0), x_dir=(0, 0, -1), z_dir=(1, 0, 0))):
        with Locations((0, 13.975)):
            Rectangle(SKETCH_7_W, SKETCH_7_H)
        with Locations((-12.5, 18.225)):
            Circle(SKETCH_7_R, mode=Mode.SUBTRACT)
        with Locations((12.5, 18.225)):
            Circle(SKETCH_7_R, mode=Mode.SUBTRACT)
    extrude(amount=-EXTRUDE_3_DEPTH)

    # Fillet 3
    fillet_3_edges = [body_3.edges().sort_by_distance(p)[0] for p in [
        (5.310254038, 6.869872981, -22.5),
        (5.310254038, 6.869872981, 22.5),
        (5.310254038, 21.080127019, 22.5),
        (5.310254038, 21.080127019, -22.5),
    ]]
    fillet(fillet_3_edges, radius=FILLET_3_R)


with BuildPart() as body_4:
    # Sketch 11 → Extrude 5 (new body)
    with BuildSketch(Plane.ZY.offset(-7.010254038)):
        Polygon((-7.281254683, 14.669872981), (-21.715011413, -10.330127019), (20.284988587, -10.330127019), (34.718745317, 14.669872981), align=None)
    extrude(amount=EXTRUDE_5_DEPTH)

    # Sketch 13 → Cut-Extrude 5 (cut, through all)
    with BuildSketch(Plane(origin=(0, 0, -22.5), x_dir=(-1, 0, 0), z_dir=(0, 0, -1))):
        Polygon((-7.010254038, -10.330127019), (-6.310254038, -8.307773445), (-6.310254038, -10.330127019), align=None)
    extrude(amount=-CUT_EXTRUDE_5_DEPTH, mode=Mode.SUBTRACT)


with BuildPart() as body_5:
    # Sketch 14 → Extrude 6 (new body)
    with BuildSketch(Plane.XY.offset(20)):
        Polygon((-11.296856578, 0.633270441), (6.110254038, -9.416729559), (6.310254038, -9.070319398), (6.310254038, 2.245745878), (-6.196856578, 9.466729559), align=None)
    extrude(amount=-EXTRUDE_6_DEPTH)


with BuildPart() as body_6:
    # Sketch 14 → Extrude 6 2 (new body)
    with BuildSketch(Plane.XY.offset(20)):
        Polygon((7.510254038, 1.552925555), (7.210254038, -7.711473671), (11.296856578, -0.633270441), align=None)
    extrude(amount=-EXTRUDE_6_2_DEPTH)


solid = Compound([part.part, body_2.part, body_3.part, body_4.part, body_5.part, body_6.part])
